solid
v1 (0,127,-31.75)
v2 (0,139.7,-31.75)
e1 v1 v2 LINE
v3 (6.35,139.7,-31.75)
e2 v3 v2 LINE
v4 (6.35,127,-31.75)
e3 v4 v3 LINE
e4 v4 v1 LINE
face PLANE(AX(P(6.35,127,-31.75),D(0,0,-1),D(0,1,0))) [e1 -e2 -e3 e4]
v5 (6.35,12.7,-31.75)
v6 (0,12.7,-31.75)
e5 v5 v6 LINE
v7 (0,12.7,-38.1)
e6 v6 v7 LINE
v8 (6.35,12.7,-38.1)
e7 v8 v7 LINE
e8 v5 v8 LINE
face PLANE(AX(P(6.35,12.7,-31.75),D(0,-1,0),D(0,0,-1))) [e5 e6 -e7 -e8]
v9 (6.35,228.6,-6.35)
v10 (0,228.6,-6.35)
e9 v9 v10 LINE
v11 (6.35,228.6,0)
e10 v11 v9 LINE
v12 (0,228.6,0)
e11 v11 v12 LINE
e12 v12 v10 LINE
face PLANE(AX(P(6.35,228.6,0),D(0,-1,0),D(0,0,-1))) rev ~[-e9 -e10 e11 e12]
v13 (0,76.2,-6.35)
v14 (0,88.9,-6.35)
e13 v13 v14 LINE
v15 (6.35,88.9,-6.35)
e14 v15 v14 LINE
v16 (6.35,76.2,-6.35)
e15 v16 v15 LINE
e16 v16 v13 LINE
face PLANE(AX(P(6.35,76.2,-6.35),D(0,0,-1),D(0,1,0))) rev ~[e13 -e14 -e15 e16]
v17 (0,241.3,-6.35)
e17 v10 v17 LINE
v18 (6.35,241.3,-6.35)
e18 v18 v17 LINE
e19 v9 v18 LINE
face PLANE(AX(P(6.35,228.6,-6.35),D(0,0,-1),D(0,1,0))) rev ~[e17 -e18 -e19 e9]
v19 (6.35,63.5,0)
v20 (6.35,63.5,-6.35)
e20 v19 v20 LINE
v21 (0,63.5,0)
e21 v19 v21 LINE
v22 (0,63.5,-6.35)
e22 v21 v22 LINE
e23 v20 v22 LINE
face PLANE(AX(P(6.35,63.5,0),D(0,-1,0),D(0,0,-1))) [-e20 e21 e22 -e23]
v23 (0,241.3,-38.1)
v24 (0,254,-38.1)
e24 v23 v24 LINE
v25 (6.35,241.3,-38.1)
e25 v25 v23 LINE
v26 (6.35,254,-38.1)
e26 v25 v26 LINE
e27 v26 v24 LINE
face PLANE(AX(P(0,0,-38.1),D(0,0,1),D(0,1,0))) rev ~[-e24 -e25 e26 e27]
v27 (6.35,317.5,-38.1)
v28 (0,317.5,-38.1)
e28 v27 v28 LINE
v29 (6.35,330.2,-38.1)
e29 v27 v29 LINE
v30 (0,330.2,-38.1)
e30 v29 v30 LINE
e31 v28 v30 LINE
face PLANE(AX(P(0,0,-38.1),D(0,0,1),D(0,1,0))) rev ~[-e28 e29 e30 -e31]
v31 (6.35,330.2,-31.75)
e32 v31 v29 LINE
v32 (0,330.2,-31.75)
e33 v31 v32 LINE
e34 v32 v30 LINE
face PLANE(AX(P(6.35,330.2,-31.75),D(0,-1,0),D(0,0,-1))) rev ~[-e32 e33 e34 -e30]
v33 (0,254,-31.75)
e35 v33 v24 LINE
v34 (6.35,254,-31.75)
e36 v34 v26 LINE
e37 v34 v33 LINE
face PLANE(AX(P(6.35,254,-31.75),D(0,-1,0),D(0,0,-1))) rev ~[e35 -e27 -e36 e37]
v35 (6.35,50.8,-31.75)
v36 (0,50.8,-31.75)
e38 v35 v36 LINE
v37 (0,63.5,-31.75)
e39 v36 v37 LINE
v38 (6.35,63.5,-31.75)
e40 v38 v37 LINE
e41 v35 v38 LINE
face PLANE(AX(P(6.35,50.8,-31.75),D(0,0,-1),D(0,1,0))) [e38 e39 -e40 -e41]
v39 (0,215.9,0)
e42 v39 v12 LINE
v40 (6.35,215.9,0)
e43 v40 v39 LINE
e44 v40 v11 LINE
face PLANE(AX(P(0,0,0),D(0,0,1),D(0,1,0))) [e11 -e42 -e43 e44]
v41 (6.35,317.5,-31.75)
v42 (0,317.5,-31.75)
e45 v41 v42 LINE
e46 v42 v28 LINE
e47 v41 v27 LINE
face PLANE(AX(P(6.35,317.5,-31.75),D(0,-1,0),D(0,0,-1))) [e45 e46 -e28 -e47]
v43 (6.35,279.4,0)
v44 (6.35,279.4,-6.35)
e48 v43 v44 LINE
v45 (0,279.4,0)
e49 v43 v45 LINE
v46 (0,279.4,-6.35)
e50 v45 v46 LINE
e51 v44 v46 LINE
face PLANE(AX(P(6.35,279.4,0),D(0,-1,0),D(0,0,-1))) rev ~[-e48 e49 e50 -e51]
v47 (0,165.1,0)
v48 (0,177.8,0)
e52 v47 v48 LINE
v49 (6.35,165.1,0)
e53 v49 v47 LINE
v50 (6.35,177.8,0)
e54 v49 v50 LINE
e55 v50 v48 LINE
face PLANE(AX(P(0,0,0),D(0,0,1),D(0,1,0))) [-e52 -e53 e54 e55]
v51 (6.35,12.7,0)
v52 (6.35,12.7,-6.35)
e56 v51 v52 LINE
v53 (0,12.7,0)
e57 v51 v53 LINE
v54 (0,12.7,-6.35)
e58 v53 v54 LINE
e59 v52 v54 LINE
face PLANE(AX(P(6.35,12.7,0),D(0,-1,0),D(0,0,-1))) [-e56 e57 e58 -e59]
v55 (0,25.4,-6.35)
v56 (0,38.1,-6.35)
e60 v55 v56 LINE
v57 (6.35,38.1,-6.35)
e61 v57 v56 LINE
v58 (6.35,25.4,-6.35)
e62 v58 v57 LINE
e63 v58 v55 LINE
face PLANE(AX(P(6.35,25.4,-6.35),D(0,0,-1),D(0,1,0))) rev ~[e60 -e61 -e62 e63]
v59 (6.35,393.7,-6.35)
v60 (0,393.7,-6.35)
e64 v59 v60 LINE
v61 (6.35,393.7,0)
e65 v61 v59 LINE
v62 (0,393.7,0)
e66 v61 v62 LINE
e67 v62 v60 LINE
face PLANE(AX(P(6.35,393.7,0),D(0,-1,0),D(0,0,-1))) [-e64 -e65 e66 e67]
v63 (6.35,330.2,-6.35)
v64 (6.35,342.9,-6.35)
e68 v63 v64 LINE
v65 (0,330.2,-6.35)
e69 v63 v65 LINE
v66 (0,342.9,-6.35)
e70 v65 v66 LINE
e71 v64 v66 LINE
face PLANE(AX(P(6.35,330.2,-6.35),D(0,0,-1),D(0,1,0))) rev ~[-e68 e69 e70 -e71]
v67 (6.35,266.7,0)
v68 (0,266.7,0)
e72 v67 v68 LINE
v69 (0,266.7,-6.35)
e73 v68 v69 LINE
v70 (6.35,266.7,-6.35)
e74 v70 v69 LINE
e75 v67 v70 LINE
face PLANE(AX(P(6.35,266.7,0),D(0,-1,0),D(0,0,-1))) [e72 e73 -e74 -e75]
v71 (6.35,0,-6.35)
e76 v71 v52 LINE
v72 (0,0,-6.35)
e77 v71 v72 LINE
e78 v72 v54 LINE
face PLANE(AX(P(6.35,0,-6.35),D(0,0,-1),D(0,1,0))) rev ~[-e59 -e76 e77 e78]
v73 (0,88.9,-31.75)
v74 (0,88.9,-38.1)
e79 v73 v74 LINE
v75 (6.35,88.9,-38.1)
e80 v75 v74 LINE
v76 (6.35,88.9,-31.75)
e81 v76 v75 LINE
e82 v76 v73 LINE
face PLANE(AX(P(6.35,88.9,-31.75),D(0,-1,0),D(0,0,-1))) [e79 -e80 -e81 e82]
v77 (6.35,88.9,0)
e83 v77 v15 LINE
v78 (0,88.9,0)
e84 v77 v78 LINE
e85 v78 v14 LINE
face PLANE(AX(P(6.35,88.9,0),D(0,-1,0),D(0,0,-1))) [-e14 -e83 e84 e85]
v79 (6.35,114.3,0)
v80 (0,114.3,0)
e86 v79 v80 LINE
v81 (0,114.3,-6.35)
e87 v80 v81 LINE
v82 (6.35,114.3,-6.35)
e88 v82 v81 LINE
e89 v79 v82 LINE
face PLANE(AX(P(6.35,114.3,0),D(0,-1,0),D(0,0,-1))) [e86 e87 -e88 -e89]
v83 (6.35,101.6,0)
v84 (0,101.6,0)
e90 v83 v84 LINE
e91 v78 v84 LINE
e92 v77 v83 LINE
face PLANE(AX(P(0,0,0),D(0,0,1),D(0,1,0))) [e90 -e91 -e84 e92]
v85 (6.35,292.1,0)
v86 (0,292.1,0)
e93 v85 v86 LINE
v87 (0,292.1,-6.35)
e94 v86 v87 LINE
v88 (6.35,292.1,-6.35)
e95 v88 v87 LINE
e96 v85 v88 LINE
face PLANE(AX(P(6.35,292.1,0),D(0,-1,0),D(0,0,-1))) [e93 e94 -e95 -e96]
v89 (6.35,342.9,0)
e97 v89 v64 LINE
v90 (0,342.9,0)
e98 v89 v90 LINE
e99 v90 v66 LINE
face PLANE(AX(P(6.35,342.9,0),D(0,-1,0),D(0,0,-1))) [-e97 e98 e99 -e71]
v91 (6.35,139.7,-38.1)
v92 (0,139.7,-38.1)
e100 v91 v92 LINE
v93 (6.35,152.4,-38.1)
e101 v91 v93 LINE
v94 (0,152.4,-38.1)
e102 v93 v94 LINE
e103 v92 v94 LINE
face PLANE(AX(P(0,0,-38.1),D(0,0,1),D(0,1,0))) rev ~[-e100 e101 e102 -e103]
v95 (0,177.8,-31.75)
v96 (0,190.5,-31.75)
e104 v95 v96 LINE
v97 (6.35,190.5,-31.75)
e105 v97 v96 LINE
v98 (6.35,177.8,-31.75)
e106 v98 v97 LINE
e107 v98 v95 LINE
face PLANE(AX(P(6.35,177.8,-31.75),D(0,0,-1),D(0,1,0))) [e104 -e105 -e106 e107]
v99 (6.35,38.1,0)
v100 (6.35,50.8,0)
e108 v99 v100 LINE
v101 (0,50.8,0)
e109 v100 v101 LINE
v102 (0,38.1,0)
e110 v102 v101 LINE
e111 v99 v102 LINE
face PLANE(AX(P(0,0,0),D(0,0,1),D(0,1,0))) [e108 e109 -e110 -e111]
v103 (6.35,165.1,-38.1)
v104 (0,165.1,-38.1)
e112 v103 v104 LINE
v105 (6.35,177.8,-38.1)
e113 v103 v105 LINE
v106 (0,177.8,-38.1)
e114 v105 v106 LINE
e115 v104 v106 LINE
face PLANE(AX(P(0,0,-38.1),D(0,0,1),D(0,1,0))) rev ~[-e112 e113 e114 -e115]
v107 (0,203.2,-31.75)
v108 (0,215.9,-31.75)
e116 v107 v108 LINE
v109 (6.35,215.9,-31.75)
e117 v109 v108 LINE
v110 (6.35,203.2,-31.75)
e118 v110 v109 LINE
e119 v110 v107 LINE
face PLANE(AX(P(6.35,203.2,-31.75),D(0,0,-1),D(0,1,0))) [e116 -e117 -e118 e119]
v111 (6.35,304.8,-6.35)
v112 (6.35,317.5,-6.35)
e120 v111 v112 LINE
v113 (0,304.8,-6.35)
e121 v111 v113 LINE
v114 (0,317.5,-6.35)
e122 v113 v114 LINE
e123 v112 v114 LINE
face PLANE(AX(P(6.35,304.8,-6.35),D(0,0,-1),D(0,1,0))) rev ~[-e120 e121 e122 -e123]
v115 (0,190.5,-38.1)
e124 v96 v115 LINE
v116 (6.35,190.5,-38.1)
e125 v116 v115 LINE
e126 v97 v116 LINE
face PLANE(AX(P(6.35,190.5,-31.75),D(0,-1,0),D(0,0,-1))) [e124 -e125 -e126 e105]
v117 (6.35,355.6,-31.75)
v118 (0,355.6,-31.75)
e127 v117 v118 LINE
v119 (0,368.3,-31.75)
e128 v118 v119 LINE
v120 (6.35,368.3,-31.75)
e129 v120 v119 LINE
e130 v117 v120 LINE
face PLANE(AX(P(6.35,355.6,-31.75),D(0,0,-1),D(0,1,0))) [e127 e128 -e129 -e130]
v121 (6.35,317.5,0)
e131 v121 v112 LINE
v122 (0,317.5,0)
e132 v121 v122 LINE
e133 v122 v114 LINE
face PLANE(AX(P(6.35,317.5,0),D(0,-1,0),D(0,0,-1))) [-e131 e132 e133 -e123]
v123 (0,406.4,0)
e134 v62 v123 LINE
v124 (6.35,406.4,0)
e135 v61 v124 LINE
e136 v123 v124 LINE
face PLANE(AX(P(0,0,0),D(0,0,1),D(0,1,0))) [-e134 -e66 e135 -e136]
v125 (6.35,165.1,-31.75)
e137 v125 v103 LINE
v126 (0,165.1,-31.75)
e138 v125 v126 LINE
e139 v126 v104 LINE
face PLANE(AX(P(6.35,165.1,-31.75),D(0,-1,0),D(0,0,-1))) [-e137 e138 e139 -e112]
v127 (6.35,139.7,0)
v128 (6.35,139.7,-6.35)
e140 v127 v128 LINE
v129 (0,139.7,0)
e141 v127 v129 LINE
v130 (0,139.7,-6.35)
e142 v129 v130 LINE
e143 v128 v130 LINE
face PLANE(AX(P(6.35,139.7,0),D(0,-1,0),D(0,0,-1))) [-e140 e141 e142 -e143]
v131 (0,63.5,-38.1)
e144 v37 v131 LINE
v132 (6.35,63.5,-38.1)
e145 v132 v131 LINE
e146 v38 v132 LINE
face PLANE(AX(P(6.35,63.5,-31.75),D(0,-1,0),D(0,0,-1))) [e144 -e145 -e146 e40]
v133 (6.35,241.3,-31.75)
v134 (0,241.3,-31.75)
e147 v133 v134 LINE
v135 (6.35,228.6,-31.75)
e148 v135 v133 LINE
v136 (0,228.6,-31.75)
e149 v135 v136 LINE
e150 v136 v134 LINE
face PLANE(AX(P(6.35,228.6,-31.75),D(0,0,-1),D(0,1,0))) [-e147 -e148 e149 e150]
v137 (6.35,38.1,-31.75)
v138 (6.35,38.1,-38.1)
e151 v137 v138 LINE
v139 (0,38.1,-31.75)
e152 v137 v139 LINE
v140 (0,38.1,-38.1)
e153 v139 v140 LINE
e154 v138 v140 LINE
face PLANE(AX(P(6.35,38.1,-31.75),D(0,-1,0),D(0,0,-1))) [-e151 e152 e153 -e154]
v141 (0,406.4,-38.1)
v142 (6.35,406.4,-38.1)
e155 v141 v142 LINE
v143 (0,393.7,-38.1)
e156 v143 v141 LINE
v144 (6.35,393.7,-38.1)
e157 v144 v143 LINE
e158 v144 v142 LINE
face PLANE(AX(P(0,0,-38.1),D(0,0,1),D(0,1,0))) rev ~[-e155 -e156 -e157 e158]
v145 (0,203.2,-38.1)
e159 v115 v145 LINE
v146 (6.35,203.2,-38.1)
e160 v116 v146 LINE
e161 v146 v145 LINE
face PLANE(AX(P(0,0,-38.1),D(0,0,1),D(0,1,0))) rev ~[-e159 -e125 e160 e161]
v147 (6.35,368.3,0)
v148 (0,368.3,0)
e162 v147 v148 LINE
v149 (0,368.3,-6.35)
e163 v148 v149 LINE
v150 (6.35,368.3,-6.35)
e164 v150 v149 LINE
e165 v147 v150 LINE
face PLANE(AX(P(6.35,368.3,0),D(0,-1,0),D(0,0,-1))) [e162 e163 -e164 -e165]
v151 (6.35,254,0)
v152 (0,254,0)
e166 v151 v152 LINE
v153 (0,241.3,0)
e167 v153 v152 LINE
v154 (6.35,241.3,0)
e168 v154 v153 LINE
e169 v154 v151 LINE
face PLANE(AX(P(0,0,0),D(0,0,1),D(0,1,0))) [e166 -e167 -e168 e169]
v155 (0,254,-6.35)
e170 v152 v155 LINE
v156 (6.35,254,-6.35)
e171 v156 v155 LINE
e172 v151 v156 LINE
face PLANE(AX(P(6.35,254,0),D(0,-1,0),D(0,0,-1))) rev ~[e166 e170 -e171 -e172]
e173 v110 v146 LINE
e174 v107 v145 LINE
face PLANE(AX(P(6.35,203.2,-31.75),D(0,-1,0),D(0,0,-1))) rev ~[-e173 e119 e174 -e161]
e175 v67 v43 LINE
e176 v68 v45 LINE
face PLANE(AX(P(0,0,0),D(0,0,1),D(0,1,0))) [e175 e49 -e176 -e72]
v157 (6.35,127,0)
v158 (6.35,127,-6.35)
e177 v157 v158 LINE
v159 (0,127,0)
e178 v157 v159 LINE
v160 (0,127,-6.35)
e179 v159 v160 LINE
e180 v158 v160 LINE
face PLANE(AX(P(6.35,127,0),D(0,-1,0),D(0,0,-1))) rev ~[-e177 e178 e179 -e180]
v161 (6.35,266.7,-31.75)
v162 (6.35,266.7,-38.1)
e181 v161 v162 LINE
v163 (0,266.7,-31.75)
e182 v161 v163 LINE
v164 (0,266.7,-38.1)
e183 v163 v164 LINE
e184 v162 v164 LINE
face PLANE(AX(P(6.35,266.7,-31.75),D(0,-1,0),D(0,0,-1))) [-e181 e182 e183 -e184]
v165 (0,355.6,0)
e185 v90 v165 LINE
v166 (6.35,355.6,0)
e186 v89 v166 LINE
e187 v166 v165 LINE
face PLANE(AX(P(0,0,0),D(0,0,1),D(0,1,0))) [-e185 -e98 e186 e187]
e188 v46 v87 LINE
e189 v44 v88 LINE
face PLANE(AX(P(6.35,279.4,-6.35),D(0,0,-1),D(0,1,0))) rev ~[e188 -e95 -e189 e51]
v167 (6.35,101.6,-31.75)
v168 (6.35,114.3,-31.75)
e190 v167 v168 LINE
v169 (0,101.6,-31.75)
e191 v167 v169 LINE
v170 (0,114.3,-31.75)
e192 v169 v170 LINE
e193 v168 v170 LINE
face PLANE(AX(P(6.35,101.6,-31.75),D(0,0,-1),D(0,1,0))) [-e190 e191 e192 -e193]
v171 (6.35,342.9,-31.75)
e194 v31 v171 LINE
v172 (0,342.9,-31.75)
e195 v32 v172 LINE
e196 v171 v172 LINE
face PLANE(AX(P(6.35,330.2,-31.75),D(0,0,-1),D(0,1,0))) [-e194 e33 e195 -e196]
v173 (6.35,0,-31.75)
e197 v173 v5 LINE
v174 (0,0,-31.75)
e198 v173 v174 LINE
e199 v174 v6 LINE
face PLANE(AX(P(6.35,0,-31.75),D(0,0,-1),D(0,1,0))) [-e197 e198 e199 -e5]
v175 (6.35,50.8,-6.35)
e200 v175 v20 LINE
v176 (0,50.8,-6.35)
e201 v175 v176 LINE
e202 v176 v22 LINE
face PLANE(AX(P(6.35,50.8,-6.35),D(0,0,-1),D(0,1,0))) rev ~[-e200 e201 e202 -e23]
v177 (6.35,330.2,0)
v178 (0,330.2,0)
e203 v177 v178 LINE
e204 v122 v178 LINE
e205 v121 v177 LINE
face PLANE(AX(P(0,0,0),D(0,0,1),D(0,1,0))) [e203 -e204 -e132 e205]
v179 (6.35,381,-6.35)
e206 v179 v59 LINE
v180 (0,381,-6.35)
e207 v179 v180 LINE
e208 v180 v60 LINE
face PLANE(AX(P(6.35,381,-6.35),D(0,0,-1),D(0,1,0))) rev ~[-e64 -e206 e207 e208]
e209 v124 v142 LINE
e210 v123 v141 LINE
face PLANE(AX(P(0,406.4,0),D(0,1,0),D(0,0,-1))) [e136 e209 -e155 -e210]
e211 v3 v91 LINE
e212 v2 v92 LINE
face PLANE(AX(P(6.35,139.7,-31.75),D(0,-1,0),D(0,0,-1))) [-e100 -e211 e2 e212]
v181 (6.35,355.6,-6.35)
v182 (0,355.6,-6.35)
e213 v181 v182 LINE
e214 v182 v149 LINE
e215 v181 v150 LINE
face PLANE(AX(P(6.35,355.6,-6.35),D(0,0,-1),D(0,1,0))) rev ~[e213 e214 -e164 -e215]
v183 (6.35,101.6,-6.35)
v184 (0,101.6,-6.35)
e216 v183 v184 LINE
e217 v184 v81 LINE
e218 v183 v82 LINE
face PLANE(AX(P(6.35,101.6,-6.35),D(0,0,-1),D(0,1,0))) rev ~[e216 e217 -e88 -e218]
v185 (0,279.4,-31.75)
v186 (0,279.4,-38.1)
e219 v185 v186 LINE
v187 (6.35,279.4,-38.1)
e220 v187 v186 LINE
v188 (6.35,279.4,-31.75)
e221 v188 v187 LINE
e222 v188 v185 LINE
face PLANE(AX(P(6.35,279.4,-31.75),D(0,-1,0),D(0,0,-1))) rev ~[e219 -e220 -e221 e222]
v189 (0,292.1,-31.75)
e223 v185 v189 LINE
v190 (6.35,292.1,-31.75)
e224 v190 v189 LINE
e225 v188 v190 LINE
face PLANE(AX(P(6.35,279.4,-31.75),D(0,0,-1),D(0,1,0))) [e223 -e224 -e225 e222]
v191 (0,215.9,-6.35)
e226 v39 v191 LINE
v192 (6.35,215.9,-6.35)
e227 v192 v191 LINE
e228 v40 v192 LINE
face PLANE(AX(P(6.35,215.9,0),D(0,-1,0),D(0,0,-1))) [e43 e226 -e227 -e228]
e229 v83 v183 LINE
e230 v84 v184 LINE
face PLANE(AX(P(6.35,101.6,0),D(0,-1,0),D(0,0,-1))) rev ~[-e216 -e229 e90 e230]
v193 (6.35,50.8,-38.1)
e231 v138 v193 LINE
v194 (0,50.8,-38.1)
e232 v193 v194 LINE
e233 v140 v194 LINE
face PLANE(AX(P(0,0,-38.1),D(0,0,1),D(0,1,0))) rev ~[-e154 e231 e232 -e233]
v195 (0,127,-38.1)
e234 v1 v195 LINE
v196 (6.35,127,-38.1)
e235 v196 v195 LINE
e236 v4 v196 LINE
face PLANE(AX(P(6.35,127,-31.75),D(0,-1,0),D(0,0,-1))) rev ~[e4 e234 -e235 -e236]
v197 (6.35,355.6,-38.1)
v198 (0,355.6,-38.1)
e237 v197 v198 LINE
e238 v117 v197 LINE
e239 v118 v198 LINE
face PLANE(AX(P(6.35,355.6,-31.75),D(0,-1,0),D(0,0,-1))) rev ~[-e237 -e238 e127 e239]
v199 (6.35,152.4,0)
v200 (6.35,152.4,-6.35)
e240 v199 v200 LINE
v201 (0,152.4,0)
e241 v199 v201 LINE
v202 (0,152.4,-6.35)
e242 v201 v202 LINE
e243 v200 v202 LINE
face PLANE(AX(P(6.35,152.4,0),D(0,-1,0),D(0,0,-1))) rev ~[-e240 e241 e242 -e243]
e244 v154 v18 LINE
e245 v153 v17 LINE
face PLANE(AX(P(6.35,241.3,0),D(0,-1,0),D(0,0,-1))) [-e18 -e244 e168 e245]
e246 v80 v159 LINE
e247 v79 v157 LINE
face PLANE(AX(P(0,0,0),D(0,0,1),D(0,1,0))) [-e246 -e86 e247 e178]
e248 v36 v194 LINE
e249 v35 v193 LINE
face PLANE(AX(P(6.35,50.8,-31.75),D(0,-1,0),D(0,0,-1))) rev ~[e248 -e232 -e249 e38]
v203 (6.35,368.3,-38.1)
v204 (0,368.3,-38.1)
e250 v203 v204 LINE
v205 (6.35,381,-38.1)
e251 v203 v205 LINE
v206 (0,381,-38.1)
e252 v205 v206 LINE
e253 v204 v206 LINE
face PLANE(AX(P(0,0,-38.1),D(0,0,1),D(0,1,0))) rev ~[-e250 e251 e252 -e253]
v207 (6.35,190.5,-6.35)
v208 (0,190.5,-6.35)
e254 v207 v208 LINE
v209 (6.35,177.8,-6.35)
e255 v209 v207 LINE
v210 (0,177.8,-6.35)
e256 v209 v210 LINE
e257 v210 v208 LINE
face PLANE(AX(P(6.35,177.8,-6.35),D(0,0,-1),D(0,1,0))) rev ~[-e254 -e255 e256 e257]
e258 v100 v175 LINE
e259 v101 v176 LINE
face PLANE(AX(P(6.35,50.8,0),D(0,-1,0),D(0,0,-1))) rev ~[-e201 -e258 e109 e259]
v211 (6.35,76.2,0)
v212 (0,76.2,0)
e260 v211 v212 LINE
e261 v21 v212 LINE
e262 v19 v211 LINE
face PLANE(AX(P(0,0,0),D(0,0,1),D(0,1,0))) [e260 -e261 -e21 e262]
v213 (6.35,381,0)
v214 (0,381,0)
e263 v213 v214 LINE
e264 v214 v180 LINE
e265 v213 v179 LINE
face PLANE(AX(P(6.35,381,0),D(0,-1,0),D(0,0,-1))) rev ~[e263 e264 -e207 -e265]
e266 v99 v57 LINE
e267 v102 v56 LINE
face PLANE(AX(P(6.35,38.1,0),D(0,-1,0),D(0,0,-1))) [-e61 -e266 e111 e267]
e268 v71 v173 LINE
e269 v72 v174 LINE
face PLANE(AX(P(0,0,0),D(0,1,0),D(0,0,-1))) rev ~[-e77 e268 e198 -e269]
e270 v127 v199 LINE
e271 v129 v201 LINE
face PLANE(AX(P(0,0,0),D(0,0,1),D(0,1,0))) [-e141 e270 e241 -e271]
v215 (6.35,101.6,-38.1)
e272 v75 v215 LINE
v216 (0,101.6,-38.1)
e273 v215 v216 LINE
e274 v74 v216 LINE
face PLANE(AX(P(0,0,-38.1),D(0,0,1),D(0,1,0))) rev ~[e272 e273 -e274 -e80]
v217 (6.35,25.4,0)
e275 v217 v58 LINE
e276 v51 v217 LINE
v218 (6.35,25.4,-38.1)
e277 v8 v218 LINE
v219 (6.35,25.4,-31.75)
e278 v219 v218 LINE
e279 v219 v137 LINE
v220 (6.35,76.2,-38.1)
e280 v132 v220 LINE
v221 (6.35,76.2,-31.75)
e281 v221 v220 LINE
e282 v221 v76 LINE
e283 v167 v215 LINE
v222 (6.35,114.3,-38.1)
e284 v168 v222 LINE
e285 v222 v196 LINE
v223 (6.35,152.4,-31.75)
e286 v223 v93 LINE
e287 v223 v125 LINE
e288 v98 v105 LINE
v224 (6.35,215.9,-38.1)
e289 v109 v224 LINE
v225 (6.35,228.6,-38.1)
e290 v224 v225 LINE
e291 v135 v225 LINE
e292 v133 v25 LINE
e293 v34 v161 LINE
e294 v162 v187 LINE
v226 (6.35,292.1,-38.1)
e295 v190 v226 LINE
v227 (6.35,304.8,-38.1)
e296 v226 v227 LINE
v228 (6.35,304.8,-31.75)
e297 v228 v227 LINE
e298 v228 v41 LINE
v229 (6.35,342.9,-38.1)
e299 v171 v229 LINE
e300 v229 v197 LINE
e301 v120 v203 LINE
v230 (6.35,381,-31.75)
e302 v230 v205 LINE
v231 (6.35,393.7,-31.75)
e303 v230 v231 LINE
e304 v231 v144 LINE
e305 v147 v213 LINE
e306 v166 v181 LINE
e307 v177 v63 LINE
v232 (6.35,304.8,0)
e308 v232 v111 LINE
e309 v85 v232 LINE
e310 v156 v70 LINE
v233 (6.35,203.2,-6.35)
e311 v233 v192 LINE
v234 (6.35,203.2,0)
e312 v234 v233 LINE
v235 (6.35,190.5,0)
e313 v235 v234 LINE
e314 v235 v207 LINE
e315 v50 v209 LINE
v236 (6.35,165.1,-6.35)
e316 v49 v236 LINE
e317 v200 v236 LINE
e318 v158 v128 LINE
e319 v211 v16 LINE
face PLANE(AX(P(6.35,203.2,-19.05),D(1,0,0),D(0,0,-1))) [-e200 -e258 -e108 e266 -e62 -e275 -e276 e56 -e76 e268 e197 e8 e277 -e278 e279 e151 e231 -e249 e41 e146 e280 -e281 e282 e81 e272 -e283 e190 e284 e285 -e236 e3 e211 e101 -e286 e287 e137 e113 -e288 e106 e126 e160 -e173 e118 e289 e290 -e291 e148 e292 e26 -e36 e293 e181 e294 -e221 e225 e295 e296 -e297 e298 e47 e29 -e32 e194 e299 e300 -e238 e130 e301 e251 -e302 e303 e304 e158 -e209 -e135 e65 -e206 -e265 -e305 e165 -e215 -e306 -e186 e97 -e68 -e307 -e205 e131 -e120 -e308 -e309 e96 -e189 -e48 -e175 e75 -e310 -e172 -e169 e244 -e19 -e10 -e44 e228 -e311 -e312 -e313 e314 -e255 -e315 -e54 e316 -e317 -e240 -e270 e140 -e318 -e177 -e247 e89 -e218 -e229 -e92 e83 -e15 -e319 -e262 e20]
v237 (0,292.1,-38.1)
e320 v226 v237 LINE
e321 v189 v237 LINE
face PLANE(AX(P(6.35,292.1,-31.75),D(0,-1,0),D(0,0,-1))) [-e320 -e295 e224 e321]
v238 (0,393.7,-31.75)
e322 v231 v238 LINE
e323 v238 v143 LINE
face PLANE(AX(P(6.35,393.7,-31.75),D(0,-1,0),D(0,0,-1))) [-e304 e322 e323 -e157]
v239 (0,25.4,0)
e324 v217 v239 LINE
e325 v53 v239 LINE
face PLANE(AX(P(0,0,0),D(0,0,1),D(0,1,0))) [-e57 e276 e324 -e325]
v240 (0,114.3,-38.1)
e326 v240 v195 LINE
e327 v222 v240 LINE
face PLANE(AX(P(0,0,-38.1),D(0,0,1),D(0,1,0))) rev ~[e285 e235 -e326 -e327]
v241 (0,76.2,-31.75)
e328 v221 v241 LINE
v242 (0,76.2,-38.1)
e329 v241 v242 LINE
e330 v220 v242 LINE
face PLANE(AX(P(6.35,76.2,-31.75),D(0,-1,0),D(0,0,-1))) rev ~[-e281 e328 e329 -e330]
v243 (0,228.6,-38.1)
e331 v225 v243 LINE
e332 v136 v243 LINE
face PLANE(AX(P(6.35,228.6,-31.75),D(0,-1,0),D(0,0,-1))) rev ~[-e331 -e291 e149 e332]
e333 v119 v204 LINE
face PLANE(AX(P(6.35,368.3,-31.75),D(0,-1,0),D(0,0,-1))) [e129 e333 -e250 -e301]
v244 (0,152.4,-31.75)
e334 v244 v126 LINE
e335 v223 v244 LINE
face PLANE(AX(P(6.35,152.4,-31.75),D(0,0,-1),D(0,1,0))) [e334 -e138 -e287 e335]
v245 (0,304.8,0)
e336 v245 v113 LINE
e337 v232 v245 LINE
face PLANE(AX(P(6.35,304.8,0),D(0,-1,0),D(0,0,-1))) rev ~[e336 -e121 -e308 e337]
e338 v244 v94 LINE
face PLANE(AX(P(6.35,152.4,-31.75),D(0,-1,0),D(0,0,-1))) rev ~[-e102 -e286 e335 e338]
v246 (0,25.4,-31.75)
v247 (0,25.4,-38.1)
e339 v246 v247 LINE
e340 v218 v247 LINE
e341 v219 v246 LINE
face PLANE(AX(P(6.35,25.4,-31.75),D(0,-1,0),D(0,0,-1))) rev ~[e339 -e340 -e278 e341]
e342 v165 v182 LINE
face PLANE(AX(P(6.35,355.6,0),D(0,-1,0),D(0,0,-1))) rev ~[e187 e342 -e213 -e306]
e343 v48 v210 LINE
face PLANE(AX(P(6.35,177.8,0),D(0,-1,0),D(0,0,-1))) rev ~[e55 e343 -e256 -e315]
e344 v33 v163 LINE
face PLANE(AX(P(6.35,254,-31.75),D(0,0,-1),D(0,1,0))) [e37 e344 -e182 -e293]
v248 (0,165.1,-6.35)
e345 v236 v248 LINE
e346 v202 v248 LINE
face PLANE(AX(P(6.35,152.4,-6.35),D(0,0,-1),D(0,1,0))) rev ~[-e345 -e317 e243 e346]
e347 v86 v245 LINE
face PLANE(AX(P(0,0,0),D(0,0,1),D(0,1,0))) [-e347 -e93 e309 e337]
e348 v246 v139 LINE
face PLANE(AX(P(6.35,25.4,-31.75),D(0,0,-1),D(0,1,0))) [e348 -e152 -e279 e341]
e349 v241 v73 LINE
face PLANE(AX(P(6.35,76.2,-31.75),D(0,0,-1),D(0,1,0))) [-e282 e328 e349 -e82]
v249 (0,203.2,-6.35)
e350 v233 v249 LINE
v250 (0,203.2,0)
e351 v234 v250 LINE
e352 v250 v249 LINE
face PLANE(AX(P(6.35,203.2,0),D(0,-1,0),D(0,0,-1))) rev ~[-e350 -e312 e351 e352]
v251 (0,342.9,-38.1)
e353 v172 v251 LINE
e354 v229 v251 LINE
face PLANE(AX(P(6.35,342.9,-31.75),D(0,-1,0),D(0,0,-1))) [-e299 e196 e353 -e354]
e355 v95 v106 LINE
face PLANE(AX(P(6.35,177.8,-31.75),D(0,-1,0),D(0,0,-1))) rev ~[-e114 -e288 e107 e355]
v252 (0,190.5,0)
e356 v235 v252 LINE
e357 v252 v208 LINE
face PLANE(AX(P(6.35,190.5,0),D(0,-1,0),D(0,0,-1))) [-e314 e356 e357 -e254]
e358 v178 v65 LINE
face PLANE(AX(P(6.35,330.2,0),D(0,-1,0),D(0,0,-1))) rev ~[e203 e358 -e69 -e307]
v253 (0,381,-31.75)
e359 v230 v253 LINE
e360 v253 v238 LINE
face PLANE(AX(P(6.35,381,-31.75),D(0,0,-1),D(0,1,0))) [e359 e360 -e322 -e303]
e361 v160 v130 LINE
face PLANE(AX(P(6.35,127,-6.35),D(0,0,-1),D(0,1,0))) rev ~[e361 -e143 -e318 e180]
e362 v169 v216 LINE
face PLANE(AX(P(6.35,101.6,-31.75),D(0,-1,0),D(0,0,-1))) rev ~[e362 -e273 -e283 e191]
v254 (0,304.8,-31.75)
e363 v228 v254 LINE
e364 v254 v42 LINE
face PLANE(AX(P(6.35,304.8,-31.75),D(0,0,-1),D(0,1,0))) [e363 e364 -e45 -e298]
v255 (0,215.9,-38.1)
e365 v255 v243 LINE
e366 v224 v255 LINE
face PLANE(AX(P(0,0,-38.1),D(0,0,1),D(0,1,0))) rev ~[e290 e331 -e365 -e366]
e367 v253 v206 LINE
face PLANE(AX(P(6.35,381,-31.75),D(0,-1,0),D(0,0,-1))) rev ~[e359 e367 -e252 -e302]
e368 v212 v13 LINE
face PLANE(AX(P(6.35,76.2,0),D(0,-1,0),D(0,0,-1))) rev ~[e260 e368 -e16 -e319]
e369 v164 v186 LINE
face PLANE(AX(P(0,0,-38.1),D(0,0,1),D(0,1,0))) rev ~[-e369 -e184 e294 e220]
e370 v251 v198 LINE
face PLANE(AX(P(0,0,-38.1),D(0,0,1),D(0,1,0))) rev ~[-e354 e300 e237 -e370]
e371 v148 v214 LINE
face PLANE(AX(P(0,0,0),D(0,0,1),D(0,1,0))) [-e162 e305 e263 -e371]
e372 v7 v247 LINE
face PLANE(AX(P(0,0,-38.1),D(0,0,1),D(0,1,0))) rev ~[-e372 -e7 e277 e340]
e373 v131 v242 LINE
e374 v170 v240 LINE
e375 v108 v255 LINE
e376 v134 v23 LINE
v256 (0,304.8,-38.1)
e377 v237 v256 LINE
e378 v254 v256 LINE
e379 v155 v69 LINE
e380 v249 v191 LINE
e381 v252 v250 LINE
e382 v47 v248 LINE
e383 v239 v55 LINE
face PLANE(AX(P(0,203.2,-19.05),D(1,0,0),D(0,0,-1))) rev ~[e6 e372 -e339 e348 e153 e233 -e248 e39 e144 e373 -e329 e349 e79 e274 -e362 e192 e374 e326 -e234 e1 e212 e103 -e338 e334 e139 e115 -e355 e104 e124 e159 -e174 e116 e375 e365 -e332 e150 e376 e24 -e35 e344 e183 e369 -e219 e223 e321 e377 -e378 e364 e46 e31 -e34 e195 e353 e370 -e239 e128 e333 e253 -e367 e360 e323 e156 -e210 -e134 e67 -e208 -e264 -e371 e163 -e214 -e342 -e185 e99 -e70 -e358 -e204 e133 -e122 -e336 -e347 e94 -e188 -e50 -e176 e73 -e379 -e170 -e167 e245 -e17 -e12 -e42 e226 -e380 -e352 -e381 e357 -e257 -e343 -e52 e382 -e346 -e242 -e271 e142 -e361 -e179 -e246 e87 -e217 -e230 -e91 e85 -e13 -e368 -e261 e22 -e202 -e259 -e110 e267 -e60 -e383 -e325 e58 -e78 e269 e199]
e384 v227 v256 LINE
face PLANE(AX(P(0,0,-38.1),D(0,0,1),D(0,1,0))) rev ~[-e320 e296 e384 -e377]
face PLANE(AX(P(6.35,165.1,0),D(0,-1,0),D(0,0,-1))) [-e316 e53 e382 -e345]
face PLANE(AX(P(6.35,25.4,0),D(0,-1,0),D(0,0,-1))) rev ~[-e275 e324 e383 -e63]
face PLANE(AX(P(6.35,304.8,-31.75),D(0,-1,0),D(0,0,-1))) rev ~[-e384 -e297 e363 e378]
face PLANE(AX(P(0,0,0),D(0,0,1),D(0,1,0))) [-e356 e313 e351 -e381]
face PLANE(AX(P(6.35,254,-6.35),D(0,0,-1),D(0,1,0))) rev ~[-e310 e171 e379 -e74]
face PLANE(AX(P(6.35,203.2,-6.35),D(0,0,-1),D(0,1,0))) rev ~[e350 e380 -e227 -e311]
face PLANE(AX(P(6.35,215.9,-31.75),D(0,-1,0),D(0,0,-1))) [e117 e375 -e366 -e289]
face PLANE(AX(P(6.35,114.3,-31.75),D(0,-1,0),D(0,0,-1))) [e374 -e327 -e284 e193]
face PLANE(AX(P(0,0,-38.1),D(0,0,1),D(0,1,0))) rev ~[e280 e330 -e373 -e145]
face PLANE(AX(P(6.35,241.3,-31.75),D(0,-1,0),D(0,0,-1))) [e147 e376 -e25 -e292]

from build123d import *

# Parameters (mm, degrees)
SKETCH1_W           = 38.1
SKETCH1_H           = 406.4
BOSS_EXTRUDE1_DEPTH = 6.35
SKETCH2_W           = 6.35
SKETCH2_H           = 12.7
CUT_EXTRUDE1_DEPTH  = 7.35
LPATTERN1_COUNT     = 16
LPATTERN1_PITCH     = 25.4


with BuildPart() as part:
    # Sketch1 → Boss-Extrude1 (new body)
    with BuildSketch(Plane(origin=(0, 0, 0), x_dir=(0, 0, -1), z_dir=(1, 0, 0))):
        with Locations((19.05, 203.2)):
            Rectangle(SKETCH1_W, SKETCH1_H)
    extrude(amount=BOSS_EXTRUDE1_DEPTH)

    # Sketch2 → Cut-Extrude1 (cut, through all)
    with BuildSketch(Plane(origin=(6.35, 0, 0), x_dir=(0, 0, -1), z_dir=(1, 0, 0))):
        with Locations((3.175, 6.35)):
            Rectangle(SKETCH2_W, SKETCH2_H)
        with Locations((34.925, 6.35)):
            Rectangle(SKETCH2_W, SKETCH2_H)
    cut_extrude1 = extrude(amount=-CUT_EXTRUDE1_DEPTH, mode=Mode.SUBTRACT)

    # LPattern1: Cut-Extrude1 ×16
    with Locations(*[(0, i * LPATTERN1_PITCH, 0) for i in range(1, LPATTERN1_COUNT)]):
        add(cut_extrude1, mode=Mode.SUBTRACT)


solid = part.part
